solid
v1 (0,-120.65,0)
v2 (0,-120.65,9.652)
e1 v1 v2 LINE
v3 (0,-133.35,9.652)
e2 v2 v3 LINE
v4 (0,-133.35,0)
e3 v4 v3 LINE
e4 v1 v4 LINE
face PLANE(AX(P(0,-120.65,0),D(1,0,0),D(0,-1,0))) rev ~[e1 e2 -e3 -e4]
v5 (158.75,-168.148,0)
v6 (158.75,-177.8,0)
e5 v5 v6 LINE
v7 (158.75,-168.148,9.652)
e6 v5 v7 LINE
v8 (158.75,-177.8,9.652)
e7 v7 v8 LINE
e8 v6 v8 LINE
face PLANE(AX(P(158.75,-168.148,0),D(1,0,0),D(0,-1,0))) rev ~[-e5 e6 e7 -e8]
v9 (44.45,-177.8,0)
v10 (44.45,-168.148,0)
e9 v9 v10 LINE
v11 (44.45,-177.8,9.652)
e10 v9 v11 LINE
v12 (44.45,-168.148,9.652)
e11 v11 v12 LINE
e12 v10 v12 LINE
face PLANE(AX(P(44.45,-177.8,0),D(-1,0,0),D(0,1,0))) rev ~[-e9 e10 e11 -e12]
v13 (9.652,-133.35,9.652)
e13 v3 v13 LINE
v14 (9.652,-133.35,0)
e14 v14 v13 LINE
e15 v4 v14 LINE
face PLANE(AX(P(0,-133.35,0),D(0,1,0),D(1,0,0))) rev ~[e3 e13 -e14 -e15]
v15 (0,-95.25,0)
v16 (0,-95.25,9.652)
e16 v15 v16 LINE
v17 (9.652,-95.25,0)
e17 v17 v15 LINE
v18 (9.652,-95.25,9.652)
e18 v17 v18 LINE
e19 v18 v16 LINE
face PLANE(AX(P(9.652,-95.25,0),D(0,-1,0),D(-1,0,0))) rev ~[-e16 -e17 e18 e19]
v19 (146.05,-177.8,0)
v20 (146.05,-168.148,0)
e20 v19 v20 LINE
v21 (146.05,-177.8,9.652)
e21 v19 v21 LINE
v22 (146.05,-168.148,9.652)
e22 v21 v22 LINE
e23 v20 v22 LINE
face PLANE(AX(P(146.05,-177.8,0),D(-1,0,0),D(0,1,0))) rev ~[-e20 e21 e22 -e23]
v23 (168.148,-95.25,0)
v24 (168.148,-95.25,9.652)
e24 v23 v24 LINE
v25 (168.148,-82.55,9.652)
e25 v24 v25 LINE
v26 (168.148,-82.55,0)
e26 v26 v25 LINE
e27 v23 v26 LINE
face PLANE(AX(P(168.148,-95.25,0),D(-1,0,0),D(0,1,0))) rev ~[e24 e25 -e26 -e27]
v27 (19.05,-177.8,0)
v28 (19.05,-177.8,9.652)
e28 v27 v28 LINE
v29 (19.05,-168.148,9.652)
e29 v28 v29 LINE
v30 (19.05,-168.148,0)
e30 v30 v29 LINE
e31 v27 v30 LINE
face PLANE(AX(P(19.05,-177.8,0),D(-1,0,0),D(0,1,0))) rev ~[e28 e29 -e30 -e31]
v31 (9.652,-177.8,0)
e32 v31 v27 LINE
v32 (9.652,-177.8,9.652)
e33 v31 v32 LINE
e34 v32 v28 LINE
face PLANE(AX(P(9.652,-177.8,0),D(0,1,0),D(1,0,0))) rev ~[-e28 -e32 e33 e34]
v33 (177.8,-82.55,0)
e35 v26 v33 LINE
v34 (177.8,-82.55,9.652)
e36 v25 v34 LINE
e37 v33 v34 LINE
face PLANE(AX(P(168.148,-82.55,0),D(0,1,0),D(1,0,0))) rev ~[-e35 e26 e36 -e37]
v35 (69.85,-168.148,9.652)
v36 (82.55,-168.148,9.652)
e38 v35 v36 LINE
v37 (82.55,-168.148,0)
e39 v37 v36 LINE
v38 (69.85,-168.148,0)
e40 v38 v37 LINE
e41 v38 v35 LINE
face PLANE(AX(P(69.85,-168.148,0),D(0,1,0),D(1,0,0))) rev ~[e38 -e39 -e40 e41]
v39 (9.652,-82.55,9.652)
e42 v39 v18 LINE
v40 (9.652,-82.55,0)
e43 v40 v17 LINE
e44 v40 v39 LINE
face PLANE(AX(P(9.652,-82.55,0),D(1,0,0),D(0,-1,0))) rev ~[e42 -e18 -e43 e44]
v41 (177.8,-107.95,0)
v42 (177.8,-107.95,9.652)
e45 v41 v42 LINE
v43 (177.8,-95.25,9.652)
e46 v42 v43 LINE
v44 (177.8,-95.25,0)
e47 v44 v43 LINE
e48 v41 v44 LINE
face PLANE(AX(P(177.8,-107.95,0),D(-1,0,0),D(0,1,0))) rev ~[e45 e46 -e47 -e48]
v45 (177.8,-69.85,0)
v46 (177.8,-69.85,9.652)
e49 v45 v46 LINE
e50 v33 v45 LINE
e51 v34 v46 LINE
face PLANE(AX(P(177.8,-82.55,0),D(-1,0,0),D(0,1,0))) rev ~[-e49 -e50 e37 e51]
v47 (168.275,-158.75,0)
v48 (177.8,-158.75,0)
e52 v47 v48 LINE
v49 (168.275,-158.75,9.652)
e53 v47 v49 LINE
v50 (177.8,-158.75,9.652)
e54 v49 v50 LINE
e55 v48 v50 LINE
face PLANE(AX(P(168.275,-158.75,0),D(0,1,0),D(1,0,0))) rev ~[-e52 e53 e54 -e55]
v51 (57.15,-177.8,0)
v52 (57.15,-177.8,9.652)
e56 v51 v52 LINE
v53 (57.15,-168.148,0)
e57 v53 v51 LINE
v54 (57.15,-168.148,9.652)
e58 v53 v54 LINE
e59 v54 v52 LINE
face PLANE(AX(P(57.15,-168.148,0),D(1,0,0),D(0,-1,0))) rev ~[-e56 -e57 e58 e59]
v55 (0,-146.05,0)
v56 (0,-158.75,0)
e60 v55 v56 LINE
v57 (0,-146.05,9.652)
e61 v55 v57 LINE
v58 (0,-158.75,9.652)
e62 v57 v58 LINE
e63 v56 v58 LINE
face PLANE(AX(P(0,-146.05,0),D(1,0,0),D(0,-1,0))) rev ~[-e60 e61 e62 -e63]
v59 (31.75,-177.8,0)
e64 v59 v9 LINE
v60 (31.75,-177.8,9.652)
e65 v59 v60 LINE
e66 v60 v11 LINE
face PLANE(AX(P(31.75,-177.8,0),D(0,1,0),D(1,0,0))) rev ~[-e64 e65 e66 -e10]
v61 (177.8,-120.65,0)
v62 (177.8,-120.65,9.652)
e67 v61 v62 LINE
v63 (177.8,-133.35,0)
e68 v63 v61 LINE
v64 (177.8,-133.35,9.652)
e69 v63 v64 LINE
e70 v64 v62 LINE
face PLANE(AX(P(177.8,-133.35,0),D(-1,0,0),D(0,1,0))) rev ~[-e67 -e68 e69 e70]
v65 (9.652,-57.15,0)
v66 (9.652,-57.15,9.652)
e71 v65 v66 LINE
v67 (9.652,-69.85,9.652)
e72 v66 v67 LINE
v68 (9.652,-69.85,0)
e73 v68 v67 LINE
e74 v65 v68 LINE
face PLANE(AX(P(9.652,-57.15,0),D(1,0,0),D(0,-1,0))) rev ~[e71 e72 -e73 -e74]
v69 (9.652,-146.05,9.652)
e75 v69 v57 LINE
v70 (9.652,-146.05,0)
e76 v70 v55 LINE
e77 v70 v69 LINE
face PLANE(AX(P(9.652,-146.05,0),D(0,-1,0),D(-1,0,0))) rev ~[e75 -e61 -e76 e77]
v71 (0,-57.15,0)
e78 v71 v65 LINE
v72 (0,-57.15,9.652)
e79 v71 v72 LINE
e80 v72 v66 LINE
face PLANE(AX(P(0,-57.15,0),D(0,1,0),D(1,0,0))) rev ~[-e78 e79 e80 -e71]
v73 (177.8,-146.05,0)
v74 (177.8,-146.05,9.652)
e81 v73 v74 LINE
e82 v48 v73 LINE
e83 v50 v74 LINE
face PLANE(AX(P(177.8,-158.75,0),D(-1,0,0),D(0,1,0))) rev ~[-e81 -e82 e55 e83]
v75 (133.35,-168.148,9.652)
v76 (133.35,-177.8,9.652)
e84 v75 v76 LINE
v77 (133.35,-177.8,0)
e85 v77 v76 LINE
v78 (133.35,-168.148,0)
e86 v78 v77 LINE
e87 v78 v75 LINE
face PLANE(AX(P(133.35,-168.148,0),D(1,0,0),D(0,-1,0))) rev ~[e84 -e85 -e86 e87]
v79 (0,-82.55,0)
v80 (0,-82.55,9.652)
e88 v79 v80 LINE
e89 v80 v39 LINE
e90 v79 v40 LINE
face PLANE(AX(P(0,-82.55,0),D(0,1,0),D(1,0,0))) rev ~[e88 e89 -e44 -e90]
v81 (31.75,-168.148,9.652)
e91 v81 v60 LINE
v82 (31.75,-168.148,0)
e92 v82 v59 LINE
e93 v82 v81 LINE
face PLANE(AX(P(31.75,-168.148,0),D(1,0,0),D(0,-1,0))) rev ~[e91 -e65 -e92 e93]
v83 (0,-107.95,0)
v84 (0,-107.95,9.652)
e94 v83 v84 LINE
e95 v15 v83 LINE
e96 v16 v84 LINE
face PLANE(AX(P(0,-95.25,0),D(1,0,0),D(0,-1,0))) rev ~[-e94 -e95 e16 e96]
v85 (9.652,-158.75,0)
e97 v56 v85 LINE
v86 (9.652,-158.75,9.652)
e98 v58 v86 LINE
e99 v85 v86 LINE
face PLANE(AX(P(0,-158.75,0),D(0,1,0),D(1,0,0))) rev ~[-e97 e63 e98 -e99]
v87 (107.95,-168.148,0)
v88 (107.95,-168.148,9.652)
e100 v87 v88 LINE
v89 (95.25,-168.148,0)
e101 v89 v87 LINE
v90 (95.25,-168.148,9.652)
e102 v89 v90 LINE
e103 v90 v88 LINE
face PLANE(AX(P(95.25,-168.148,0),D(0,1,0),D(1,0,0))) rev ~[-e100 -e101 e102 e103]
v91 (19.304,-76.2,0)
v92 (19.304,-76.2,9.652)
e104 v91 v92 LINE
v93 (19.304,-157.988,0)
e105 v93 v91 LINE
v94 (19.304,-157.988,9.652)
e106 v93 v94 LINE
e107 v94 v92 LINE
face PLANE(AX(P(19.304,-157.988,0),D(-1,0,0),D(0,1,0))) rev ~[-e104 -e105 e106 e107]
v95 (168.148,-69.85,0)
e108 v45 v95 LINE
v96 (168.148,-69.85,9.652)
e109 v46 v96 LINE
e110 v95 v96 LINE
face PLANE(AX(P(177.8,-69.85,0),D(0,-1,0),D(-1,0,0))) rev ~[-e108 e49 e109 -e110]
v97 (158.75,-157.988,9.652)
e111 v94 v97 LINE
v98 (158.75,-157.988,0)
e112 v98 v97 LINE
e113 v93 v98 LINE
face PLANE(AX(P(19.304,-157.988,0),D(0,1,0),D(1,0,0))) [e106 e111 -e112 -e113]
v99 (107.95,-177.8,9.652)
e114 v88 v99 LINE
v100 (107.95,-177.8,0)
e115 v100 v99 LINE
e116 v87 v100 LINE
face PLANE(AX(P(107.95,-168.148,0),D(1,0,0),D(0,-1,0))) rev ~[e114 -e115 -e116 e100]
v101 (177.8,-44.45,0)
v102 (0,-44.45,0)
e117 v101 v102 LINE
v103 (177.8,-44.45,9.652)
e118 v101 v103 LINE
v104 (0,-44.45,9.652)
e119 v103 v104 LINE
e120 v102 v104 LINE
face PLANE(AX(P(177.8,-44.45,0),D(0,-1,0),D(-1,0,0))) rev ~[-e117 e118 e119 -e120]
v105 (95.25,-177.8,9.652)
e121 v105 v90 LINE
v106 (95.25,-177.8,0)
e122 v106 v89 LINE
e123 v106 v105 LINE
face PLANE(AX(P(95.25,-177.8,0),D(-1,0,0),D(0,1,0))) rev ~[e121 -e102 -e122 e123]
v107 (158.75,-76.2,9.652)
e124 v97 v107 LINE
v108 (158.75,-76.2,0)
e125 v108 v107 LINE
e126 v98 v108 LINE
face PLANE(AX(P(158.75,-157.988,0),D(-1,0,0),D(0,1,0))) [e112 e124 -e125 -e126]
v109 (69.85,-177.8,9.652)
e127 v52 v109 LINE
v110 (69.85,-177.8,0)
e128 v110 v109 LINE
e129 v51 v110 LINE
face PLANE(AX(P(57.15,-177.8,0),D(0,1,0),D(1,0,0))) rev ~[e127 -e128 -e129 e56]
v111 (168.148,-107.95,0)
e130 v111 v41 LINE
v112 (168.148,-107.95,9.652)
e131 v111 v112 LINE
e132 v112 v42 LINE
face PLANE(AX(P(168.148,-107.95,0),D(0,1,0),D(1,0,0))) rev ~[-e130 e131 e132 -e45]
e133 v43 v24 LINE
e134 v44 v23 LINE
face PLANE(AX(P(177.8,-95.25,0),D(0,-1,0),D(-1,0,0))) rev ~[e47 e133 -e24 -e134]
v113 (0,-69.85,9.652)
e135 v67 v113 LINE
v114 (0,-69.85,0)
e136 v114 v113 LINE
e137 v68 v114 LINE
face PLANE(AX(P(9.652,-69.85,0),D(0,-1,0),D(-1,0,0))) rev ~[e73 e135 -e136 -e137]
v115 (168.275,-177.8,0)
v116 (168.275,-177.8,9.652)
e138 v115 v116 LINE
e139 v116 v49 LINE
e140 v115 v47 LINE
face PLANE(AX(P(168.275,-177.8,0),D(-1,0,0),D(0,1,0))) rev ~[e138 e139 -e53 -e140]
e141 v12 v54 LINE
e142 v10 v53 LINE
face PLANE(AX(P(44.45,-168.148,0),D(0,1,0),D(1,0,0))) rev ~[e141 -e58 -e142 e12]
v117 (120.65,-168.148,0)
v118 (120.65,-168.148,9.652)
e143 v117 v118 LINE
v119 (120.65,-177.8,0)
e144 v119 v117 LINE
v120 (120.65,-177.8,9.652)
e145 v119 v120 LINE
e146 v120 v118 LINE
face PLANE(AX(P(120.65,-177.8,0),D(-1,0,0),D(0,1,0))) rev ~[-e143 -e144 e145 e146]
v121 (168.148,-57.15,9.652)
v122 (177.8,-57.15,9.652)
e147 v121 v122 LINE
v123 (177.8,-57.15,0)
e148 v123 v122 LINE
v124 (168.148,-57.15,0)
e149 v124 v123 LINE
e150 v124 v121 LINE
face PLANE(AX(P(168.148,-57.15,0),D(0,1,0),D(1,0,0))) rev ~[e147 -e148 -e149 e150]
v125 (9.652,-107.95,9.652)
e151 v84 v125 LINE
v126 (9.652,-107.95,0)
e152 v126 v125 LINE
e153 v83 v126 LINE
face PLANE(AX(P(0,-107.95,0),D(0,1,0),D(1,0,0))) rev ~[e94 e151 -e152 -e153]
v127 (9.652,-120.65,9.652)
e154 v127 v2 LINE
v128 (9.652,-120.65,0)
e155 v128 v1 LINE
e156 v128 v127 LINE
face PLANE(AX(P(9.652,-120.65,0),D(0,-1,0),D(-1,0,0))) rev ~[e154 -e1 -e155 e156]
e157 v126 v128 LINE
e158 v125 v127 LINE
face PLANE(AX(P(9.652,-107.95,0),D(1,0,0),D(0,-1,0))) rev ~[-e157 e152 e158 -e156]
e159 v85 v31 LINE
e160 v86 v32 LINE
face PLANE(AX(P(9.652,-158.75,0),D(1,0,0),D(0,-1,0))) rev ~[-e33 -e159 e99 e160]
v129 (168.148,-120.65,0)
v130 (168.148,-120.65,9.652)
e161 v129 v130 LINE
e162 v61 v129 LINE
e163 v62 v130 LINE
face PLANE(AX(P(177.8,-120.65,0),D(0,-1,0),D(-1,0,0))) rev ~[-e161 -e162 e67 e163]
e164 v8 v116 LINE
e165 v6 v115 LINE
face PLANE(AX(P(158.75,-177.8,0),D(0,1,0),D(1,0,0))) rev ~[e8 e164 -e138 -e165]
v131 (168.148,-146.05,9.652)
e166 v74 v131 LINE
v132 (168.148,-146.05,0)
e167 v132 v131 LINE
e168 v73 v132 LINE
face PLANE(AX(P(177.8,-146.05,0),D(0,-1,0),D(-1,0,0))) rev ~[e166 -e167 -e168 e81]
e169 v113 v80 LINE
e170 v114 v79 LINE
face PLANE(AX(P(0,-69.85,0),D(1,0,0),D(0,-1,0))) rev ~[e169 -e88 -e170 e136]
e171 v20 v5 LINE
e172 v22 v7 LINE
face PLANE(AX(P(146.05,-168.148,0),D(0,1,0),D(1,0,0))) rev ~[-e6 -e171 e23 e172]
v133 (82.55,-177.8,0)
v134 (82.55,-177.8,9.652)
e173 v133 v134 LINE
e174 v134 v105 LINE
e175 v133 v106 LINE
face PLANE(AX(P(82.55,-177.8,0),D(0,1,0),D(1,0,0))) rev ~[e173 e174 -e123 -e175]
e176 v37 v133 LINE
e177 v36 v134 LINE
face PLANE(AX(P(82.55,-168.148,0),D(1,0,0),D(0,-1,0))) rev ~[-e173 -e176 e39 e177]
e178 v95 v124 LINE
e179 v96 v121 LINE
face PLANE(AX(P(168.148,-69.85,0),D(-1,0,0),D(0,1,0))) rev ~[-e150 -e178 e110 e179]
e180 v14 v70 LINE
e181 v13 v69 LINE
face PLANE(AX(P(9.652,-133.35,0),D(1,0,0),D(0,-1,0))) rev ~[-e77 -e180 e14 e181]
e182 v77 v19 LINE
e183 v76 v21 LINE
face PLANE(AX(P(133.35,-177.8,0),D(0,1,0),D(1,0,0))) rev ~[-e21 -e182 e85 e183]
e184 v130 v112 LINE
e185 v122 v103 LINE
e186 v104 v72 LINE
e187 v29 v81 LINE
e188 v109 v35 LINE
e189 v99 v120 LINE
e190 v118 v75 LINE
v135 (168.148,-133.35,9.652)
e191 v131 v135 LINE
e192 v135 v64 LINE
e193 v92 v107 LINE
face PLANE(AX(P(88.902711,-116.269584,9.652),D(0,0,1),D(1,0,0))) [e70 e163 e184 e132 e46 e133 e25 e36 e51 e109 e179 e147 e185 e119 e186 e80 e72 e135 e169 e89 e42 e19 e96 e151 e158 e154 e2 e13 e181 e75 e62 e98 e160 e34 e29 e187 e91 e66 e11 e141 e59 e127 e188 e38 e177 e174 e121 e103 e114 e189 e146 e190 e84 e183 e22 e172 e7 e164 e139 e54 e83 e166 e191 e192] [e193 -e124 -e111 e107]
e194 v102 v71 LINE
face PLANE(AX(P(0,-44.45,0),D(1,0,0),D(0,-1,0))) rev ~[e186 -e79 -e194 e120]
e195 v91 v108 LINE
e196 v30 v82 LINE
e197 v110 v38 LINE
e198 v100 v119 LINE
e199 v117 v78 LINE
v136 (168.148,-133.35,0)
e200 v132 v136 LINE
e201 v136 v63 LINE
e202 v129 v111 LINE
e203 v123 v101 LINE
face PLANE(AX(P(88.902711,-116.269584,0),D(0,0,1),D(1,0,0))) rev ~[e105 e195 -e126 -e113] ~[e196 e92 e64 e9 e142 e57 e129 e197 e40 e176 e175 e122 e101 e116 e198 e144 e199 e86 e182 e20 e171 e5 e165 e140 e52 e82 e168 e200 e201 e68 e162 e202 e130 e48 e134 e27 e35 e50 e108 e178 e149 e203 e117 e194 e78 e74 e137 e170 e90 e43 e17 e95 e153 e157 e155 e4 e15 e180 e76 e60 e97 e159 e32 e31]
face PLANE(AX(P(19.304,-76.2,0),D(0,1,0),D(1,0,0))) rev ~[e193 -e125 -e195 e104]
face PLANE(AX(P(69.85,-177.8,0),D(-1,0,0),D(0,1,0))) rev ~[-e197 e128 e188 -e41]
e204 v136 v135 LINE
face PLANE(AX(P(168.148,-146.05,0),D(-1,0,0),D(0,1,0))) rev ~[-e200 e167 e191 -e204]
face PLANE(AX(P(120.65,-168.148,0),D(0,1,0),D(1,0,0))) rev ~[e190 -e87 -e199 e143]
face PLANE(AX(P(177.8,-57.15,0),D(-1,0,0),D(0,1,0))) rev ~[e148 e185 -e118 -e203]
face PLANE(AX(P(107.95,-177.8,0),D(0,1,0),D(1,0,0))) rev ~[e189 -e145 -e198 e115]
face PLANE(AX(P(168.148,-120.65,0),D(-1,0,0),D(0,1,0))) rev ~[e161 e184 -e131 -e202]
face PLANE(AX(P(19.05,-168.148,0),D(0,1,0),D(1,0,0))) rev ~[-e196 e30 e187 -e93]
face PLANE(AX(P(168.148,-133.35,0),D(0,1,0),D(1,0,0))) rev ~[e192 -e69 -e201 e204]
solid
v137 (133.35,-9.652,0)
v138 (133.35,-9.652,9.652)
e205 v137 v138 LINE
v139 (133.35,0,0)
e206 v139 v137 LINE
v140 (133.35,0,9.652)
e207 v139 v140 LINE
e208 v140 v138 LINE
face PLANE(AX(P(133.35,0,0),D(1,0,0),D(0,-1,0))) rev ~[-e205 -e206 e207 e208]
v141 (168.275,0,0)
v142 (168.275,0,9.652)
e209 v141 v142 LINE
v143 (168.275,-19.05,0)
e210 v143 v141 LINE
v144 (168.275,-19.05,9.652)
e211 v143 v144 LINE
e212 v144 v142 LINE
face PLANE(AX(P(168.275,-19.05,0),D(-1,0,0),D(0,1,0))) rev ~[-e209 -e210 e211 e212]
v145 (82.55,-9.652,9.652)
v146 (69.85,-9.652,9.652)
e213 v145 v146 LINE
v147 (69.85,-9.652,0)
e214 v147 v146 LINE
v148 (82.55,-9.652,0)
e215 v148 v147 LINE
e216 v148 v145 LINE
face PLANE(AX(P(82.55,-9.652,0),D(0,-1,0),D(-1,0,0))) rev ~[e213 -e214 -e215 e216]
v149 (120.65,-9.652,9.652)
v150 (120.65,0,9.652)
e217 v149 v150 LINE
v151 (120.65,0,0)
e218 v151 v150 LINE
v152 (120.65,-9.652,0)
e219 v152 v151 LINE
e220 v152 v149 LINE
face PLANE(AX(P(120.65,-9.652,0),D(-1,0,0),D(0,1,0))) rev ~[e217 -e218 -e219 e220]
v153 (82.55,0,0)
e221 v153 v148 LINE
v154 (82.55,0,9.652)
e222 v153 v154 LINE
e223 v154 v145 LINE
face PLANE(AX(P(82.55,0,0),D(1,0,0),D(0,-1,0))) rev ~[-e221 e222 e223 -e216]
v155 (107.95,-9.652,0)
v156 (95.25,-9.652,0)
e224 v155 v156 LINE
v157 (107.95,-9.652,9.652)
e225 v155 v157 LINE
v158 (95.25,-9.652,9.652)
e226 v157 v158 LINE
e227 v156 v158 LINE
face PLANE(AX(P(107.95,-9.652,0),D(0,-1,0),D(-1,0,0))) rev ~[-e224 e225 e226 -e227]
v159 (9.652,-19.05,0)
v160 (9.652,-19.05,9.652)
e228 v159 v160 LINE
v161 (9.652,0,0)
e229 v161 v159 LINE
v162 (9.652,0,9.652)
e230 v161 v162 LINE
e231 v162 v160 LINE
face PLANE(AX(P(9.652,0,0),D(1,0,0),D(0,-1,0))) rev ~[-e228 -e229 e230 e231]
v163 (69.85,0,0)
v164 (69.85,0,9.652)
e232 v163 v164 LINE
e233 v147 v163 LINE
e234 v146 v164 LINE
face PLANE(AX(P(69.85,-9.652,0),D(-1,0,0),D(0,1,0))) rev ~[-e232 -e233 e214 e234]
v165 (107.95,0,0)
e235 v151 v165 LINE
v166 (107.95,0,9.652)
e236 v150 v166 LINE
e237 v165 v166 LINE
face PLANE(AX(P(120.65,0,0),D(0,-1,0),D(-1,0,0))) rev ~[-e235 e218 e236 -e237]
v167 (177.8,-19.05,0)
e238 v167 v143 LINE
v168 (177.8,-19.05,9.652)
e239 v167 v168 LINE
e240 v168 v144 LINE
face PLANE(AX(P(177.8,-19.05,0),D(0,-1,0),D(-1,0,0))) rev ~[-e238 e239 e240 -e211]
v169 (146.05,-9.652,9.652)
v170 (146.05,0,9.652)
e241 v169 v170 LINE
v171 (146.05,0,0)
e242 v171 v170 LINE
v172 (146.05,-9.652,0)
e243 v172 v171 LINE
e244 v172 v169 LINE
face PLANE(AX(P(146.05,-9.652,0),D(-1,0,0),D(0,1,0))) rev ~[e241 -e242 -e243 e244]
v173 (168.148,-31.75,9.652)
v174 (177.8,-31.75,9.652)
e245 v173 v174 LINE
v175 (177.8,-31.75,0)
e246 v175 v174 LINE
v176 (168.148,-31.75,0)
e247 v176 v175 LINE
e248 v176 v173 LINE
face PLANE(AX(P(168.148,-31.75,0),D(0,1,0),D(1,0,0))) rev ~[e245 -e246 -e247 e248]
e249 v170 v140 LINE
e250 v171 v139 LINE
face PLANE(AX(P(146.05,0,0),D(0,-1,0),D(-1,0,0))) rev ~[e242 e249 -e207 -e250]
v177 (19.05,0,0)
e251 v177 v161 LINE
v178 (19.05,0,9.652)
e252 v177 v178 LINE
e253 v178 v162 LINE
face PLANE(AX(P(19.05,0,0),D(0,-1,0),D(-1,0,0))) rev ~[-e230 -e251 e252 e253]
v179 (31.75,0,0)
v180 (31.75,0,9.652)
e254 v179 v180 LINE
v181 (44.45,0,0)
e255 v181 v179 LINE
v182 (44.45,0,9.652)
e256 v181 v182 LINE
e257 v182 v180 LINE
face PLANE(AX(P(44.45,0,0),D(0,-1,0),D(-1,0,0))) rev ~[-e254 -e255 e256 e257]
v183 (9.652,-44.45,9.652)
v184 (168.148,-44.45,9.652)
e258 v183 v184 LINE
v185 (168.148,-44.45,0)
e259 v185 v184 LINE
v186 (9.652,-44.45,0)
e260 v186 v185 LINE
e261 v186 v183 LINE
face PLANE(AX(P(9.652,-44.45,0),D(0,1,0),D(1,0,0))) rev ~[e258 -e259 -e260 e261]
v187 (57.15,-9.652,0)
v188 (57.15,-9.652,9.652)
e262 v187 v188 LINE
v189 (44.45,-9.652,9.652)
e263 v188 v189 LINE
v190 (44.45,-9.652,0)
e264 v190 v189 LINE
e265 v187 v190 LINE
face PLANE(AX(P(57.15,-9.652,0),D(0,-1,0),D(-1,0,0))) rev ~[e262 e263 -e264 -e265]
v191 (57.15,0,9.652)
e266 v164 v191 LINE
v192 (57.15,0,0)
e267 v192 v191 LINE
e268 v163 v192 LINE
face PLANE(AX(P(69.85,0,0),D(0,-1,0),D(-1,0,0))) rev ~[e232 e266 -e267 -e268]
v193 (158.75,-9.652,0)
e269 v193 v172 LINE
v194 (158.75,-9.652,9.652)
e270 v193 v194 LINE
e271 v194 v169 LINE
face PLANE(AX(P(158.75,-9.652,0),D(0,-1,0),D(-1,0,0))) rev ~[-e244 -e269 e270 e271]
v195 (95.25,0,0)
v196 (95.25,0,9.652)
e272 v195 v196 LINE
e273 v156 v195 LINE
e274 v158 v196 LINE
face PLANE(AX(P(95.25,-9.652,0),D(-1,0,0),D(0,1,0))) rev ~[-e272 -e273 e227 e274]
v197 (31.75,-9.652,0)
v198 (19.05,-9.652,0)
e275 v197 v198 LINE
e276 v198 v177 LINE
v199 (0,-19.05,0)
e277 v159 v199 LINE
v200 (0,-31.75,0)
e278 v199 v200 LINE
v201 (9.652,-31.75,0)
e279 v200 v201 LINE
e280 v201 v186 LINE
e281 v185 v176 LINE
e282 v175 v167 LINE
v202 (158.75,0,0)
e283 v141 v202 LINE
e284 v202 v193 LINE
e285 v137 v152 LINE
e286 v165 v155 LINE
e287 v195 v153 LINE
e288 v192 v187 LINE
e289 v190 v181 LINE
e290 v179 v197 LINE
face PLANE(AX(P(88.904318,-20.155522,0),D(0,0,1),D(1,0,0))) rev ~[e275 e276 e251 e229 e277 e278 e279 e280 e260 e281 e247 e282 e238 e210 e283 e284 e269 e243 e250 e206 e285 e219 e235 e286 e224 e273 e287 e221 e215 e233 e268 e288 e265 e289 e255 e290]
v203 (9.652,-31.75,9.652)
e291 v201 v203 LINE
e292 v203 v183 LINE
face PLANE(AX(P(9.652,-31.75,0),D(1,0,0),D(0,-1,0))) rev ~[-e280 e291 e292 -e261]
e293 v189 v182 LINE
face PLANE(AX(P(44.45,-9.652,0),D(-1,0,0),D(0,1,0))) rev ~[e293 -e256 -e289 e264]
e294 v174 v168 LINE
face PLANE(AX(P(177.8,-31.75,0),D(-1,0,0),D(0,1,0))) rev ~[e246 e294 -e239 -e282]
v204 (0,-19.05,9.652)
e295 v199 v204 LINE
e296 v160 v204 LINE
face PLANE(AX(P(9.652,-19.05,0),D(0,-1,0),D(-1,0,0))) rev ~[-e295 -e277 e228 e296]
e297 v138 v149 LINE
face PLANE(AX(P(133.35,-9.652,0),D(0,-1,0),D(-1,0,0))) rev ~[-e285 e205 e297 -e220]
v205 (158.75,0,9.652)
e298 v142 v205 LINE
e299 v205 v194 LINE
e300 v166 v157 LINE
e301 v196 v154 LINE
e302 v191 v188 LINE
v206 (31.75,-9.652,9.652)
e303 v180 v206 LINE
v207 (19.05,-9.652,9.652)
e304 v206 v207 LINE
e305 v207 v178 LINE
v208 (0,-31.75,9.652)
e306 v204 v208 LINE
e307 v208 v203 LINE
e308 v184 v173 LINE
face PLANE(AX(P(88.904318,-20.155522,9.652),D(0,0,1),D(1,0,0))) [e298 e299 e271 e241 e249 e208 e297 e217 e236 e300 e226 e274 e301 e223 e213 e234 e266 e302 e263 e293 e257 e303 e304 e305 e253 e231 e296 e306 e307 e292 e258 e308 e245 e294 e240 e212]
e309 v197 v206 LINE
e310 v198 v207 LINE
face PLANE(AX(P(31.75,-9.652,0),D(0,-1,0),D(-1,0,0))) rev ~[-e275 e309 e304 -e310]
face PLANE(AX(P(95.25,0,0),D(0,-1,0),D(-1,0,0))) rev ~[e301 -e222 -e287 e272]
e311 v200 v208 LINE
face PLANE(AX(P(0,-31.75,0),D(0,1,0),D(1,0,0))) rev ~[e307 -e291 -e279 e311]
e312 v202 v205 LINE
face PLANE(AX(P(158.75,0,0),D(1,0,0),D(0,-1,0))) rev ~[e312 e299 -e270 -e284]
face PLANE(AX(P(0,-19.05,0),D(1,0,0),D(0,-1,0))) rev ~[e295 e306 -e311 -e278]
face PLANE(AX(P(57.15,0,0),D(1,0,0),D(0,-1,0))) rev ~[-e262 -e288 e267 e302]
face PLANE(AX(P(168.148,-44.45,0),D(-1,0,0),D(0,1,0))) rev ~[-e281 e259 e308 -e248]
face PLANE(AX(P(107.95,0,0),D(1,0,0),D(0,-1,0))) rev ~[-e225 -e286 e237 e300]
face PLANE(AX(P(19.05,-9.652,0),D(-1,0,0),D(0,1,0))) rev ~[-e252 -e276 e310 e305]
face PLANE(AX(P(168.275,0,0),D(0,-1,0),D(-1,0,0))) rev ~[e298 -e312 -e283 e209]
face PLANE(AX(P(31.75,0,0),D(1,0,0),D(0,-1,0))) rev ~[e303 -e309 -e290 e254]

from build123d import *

# Parameters (mm, degrees)
F0_W     = 139.446
F0_H     = 81.788
F1_DEPTH = 9.652
F2_DEPTH = 9.652


with BuildPart() as f1:
    # F0 (on Top) → F1 (new body)
    with BuildSketch(Plane.XY):
        Polygon((168.148, -44.45), (9.652, -44.45), (0, -44.45), (0, -57.15), (9.652, -57.15), (9.652, -69.85), (0, -69.85), (0, -82.55), (9.652, -82.55), (9.652, -95.25), (0, -95.25), (0, -107.95), (9.652, -107.95), (9.652, -120.65), (0, -120.65), (0, -133.35), (9.652, -133.35), (9.652, -146.05), (0, -146.05), (0, -158.75), (9.652, -158.75), (9.652, -177.8), (19.05, -177.8), (19.05, -168.148), (31.75, -168.148), (31.75, -177.8), (44.45, -177.8), (44.45, -168.148), (57.15, -168.148), (57.15, -177.8), (69.85, -177.8), (69.85, -168.148), (82.55, -168.148), (82.55, -177.8), (95.25, -177.8), (95.25, -168.148), (107.95, -168.148), (107.95, -177.8), (120.65, -177.8), (120.65, -168.148), (133.35, -168.148), (133.35, -177.8), (146.05, -177.8), (146.05, -168.148), (158.75, -168.148), (158.75, -177.8), (168.275, -177.8), (168.275, -158.75), (177.8, -158.75), (177.8, -146.05), (168.148, -146.05), (168.148, -133.35), (177.8, -133.35), (177.8, -120.65), (168.148, -120.65), (168.148, -107.95), (177.8, -107.95), (177.8, -95.25), (168.148, -95.25), (168.148, -82.55), (177.8, -82.55), (177.8, -69.85), (168.148, -69.85), (168.148, -57.15), (177.8, -57.15), (177.8, -44.45), align=None)
        with Locations((89.027, -117.094)):
            Rectangle(F0_W, F0_H, mode=Mode.SUBTRACT)
    extrude(amount=F1_DEPTH)


with BuildPart() as f2:
    # F0 (on Top) → F2 (new body)
    with BuildSketch(Plane.XY):
        Polygon((19.05, 0), (9.652, 0), (9.652, -19.05), (0, -19.05), (0, -31.75), (9.652, -31.75), (9.652, -44.45), (168.148, -44.45), (168.148, -31.75), (177.8, -31.75), (177.8, -19.05), (168.275, -19.05), (168.275, 0), (158.75, 0), (158.75, -9.652), (146.05, -9.652), (146.05, 0), (133.35, 0), (133.35, -9.652), (120.65, -9.652), (120.65, 0), (107.95, 0), (107.95, -9.652), (95.25, -9.652), (95.25, 0), (82.55, 0), (82.55, -9.652), (69.85, -9.652), (69.85, 0), (57.15, 0), (57.15, -9.652), (44.45, -9.652), (44.45, 0), (31.75, 0), (31.75, -9.652), (19.05, -9.652), align=None)
    extrude(amount=F2_DEPTH)


solid = Compound([f1.part, f2.part])
